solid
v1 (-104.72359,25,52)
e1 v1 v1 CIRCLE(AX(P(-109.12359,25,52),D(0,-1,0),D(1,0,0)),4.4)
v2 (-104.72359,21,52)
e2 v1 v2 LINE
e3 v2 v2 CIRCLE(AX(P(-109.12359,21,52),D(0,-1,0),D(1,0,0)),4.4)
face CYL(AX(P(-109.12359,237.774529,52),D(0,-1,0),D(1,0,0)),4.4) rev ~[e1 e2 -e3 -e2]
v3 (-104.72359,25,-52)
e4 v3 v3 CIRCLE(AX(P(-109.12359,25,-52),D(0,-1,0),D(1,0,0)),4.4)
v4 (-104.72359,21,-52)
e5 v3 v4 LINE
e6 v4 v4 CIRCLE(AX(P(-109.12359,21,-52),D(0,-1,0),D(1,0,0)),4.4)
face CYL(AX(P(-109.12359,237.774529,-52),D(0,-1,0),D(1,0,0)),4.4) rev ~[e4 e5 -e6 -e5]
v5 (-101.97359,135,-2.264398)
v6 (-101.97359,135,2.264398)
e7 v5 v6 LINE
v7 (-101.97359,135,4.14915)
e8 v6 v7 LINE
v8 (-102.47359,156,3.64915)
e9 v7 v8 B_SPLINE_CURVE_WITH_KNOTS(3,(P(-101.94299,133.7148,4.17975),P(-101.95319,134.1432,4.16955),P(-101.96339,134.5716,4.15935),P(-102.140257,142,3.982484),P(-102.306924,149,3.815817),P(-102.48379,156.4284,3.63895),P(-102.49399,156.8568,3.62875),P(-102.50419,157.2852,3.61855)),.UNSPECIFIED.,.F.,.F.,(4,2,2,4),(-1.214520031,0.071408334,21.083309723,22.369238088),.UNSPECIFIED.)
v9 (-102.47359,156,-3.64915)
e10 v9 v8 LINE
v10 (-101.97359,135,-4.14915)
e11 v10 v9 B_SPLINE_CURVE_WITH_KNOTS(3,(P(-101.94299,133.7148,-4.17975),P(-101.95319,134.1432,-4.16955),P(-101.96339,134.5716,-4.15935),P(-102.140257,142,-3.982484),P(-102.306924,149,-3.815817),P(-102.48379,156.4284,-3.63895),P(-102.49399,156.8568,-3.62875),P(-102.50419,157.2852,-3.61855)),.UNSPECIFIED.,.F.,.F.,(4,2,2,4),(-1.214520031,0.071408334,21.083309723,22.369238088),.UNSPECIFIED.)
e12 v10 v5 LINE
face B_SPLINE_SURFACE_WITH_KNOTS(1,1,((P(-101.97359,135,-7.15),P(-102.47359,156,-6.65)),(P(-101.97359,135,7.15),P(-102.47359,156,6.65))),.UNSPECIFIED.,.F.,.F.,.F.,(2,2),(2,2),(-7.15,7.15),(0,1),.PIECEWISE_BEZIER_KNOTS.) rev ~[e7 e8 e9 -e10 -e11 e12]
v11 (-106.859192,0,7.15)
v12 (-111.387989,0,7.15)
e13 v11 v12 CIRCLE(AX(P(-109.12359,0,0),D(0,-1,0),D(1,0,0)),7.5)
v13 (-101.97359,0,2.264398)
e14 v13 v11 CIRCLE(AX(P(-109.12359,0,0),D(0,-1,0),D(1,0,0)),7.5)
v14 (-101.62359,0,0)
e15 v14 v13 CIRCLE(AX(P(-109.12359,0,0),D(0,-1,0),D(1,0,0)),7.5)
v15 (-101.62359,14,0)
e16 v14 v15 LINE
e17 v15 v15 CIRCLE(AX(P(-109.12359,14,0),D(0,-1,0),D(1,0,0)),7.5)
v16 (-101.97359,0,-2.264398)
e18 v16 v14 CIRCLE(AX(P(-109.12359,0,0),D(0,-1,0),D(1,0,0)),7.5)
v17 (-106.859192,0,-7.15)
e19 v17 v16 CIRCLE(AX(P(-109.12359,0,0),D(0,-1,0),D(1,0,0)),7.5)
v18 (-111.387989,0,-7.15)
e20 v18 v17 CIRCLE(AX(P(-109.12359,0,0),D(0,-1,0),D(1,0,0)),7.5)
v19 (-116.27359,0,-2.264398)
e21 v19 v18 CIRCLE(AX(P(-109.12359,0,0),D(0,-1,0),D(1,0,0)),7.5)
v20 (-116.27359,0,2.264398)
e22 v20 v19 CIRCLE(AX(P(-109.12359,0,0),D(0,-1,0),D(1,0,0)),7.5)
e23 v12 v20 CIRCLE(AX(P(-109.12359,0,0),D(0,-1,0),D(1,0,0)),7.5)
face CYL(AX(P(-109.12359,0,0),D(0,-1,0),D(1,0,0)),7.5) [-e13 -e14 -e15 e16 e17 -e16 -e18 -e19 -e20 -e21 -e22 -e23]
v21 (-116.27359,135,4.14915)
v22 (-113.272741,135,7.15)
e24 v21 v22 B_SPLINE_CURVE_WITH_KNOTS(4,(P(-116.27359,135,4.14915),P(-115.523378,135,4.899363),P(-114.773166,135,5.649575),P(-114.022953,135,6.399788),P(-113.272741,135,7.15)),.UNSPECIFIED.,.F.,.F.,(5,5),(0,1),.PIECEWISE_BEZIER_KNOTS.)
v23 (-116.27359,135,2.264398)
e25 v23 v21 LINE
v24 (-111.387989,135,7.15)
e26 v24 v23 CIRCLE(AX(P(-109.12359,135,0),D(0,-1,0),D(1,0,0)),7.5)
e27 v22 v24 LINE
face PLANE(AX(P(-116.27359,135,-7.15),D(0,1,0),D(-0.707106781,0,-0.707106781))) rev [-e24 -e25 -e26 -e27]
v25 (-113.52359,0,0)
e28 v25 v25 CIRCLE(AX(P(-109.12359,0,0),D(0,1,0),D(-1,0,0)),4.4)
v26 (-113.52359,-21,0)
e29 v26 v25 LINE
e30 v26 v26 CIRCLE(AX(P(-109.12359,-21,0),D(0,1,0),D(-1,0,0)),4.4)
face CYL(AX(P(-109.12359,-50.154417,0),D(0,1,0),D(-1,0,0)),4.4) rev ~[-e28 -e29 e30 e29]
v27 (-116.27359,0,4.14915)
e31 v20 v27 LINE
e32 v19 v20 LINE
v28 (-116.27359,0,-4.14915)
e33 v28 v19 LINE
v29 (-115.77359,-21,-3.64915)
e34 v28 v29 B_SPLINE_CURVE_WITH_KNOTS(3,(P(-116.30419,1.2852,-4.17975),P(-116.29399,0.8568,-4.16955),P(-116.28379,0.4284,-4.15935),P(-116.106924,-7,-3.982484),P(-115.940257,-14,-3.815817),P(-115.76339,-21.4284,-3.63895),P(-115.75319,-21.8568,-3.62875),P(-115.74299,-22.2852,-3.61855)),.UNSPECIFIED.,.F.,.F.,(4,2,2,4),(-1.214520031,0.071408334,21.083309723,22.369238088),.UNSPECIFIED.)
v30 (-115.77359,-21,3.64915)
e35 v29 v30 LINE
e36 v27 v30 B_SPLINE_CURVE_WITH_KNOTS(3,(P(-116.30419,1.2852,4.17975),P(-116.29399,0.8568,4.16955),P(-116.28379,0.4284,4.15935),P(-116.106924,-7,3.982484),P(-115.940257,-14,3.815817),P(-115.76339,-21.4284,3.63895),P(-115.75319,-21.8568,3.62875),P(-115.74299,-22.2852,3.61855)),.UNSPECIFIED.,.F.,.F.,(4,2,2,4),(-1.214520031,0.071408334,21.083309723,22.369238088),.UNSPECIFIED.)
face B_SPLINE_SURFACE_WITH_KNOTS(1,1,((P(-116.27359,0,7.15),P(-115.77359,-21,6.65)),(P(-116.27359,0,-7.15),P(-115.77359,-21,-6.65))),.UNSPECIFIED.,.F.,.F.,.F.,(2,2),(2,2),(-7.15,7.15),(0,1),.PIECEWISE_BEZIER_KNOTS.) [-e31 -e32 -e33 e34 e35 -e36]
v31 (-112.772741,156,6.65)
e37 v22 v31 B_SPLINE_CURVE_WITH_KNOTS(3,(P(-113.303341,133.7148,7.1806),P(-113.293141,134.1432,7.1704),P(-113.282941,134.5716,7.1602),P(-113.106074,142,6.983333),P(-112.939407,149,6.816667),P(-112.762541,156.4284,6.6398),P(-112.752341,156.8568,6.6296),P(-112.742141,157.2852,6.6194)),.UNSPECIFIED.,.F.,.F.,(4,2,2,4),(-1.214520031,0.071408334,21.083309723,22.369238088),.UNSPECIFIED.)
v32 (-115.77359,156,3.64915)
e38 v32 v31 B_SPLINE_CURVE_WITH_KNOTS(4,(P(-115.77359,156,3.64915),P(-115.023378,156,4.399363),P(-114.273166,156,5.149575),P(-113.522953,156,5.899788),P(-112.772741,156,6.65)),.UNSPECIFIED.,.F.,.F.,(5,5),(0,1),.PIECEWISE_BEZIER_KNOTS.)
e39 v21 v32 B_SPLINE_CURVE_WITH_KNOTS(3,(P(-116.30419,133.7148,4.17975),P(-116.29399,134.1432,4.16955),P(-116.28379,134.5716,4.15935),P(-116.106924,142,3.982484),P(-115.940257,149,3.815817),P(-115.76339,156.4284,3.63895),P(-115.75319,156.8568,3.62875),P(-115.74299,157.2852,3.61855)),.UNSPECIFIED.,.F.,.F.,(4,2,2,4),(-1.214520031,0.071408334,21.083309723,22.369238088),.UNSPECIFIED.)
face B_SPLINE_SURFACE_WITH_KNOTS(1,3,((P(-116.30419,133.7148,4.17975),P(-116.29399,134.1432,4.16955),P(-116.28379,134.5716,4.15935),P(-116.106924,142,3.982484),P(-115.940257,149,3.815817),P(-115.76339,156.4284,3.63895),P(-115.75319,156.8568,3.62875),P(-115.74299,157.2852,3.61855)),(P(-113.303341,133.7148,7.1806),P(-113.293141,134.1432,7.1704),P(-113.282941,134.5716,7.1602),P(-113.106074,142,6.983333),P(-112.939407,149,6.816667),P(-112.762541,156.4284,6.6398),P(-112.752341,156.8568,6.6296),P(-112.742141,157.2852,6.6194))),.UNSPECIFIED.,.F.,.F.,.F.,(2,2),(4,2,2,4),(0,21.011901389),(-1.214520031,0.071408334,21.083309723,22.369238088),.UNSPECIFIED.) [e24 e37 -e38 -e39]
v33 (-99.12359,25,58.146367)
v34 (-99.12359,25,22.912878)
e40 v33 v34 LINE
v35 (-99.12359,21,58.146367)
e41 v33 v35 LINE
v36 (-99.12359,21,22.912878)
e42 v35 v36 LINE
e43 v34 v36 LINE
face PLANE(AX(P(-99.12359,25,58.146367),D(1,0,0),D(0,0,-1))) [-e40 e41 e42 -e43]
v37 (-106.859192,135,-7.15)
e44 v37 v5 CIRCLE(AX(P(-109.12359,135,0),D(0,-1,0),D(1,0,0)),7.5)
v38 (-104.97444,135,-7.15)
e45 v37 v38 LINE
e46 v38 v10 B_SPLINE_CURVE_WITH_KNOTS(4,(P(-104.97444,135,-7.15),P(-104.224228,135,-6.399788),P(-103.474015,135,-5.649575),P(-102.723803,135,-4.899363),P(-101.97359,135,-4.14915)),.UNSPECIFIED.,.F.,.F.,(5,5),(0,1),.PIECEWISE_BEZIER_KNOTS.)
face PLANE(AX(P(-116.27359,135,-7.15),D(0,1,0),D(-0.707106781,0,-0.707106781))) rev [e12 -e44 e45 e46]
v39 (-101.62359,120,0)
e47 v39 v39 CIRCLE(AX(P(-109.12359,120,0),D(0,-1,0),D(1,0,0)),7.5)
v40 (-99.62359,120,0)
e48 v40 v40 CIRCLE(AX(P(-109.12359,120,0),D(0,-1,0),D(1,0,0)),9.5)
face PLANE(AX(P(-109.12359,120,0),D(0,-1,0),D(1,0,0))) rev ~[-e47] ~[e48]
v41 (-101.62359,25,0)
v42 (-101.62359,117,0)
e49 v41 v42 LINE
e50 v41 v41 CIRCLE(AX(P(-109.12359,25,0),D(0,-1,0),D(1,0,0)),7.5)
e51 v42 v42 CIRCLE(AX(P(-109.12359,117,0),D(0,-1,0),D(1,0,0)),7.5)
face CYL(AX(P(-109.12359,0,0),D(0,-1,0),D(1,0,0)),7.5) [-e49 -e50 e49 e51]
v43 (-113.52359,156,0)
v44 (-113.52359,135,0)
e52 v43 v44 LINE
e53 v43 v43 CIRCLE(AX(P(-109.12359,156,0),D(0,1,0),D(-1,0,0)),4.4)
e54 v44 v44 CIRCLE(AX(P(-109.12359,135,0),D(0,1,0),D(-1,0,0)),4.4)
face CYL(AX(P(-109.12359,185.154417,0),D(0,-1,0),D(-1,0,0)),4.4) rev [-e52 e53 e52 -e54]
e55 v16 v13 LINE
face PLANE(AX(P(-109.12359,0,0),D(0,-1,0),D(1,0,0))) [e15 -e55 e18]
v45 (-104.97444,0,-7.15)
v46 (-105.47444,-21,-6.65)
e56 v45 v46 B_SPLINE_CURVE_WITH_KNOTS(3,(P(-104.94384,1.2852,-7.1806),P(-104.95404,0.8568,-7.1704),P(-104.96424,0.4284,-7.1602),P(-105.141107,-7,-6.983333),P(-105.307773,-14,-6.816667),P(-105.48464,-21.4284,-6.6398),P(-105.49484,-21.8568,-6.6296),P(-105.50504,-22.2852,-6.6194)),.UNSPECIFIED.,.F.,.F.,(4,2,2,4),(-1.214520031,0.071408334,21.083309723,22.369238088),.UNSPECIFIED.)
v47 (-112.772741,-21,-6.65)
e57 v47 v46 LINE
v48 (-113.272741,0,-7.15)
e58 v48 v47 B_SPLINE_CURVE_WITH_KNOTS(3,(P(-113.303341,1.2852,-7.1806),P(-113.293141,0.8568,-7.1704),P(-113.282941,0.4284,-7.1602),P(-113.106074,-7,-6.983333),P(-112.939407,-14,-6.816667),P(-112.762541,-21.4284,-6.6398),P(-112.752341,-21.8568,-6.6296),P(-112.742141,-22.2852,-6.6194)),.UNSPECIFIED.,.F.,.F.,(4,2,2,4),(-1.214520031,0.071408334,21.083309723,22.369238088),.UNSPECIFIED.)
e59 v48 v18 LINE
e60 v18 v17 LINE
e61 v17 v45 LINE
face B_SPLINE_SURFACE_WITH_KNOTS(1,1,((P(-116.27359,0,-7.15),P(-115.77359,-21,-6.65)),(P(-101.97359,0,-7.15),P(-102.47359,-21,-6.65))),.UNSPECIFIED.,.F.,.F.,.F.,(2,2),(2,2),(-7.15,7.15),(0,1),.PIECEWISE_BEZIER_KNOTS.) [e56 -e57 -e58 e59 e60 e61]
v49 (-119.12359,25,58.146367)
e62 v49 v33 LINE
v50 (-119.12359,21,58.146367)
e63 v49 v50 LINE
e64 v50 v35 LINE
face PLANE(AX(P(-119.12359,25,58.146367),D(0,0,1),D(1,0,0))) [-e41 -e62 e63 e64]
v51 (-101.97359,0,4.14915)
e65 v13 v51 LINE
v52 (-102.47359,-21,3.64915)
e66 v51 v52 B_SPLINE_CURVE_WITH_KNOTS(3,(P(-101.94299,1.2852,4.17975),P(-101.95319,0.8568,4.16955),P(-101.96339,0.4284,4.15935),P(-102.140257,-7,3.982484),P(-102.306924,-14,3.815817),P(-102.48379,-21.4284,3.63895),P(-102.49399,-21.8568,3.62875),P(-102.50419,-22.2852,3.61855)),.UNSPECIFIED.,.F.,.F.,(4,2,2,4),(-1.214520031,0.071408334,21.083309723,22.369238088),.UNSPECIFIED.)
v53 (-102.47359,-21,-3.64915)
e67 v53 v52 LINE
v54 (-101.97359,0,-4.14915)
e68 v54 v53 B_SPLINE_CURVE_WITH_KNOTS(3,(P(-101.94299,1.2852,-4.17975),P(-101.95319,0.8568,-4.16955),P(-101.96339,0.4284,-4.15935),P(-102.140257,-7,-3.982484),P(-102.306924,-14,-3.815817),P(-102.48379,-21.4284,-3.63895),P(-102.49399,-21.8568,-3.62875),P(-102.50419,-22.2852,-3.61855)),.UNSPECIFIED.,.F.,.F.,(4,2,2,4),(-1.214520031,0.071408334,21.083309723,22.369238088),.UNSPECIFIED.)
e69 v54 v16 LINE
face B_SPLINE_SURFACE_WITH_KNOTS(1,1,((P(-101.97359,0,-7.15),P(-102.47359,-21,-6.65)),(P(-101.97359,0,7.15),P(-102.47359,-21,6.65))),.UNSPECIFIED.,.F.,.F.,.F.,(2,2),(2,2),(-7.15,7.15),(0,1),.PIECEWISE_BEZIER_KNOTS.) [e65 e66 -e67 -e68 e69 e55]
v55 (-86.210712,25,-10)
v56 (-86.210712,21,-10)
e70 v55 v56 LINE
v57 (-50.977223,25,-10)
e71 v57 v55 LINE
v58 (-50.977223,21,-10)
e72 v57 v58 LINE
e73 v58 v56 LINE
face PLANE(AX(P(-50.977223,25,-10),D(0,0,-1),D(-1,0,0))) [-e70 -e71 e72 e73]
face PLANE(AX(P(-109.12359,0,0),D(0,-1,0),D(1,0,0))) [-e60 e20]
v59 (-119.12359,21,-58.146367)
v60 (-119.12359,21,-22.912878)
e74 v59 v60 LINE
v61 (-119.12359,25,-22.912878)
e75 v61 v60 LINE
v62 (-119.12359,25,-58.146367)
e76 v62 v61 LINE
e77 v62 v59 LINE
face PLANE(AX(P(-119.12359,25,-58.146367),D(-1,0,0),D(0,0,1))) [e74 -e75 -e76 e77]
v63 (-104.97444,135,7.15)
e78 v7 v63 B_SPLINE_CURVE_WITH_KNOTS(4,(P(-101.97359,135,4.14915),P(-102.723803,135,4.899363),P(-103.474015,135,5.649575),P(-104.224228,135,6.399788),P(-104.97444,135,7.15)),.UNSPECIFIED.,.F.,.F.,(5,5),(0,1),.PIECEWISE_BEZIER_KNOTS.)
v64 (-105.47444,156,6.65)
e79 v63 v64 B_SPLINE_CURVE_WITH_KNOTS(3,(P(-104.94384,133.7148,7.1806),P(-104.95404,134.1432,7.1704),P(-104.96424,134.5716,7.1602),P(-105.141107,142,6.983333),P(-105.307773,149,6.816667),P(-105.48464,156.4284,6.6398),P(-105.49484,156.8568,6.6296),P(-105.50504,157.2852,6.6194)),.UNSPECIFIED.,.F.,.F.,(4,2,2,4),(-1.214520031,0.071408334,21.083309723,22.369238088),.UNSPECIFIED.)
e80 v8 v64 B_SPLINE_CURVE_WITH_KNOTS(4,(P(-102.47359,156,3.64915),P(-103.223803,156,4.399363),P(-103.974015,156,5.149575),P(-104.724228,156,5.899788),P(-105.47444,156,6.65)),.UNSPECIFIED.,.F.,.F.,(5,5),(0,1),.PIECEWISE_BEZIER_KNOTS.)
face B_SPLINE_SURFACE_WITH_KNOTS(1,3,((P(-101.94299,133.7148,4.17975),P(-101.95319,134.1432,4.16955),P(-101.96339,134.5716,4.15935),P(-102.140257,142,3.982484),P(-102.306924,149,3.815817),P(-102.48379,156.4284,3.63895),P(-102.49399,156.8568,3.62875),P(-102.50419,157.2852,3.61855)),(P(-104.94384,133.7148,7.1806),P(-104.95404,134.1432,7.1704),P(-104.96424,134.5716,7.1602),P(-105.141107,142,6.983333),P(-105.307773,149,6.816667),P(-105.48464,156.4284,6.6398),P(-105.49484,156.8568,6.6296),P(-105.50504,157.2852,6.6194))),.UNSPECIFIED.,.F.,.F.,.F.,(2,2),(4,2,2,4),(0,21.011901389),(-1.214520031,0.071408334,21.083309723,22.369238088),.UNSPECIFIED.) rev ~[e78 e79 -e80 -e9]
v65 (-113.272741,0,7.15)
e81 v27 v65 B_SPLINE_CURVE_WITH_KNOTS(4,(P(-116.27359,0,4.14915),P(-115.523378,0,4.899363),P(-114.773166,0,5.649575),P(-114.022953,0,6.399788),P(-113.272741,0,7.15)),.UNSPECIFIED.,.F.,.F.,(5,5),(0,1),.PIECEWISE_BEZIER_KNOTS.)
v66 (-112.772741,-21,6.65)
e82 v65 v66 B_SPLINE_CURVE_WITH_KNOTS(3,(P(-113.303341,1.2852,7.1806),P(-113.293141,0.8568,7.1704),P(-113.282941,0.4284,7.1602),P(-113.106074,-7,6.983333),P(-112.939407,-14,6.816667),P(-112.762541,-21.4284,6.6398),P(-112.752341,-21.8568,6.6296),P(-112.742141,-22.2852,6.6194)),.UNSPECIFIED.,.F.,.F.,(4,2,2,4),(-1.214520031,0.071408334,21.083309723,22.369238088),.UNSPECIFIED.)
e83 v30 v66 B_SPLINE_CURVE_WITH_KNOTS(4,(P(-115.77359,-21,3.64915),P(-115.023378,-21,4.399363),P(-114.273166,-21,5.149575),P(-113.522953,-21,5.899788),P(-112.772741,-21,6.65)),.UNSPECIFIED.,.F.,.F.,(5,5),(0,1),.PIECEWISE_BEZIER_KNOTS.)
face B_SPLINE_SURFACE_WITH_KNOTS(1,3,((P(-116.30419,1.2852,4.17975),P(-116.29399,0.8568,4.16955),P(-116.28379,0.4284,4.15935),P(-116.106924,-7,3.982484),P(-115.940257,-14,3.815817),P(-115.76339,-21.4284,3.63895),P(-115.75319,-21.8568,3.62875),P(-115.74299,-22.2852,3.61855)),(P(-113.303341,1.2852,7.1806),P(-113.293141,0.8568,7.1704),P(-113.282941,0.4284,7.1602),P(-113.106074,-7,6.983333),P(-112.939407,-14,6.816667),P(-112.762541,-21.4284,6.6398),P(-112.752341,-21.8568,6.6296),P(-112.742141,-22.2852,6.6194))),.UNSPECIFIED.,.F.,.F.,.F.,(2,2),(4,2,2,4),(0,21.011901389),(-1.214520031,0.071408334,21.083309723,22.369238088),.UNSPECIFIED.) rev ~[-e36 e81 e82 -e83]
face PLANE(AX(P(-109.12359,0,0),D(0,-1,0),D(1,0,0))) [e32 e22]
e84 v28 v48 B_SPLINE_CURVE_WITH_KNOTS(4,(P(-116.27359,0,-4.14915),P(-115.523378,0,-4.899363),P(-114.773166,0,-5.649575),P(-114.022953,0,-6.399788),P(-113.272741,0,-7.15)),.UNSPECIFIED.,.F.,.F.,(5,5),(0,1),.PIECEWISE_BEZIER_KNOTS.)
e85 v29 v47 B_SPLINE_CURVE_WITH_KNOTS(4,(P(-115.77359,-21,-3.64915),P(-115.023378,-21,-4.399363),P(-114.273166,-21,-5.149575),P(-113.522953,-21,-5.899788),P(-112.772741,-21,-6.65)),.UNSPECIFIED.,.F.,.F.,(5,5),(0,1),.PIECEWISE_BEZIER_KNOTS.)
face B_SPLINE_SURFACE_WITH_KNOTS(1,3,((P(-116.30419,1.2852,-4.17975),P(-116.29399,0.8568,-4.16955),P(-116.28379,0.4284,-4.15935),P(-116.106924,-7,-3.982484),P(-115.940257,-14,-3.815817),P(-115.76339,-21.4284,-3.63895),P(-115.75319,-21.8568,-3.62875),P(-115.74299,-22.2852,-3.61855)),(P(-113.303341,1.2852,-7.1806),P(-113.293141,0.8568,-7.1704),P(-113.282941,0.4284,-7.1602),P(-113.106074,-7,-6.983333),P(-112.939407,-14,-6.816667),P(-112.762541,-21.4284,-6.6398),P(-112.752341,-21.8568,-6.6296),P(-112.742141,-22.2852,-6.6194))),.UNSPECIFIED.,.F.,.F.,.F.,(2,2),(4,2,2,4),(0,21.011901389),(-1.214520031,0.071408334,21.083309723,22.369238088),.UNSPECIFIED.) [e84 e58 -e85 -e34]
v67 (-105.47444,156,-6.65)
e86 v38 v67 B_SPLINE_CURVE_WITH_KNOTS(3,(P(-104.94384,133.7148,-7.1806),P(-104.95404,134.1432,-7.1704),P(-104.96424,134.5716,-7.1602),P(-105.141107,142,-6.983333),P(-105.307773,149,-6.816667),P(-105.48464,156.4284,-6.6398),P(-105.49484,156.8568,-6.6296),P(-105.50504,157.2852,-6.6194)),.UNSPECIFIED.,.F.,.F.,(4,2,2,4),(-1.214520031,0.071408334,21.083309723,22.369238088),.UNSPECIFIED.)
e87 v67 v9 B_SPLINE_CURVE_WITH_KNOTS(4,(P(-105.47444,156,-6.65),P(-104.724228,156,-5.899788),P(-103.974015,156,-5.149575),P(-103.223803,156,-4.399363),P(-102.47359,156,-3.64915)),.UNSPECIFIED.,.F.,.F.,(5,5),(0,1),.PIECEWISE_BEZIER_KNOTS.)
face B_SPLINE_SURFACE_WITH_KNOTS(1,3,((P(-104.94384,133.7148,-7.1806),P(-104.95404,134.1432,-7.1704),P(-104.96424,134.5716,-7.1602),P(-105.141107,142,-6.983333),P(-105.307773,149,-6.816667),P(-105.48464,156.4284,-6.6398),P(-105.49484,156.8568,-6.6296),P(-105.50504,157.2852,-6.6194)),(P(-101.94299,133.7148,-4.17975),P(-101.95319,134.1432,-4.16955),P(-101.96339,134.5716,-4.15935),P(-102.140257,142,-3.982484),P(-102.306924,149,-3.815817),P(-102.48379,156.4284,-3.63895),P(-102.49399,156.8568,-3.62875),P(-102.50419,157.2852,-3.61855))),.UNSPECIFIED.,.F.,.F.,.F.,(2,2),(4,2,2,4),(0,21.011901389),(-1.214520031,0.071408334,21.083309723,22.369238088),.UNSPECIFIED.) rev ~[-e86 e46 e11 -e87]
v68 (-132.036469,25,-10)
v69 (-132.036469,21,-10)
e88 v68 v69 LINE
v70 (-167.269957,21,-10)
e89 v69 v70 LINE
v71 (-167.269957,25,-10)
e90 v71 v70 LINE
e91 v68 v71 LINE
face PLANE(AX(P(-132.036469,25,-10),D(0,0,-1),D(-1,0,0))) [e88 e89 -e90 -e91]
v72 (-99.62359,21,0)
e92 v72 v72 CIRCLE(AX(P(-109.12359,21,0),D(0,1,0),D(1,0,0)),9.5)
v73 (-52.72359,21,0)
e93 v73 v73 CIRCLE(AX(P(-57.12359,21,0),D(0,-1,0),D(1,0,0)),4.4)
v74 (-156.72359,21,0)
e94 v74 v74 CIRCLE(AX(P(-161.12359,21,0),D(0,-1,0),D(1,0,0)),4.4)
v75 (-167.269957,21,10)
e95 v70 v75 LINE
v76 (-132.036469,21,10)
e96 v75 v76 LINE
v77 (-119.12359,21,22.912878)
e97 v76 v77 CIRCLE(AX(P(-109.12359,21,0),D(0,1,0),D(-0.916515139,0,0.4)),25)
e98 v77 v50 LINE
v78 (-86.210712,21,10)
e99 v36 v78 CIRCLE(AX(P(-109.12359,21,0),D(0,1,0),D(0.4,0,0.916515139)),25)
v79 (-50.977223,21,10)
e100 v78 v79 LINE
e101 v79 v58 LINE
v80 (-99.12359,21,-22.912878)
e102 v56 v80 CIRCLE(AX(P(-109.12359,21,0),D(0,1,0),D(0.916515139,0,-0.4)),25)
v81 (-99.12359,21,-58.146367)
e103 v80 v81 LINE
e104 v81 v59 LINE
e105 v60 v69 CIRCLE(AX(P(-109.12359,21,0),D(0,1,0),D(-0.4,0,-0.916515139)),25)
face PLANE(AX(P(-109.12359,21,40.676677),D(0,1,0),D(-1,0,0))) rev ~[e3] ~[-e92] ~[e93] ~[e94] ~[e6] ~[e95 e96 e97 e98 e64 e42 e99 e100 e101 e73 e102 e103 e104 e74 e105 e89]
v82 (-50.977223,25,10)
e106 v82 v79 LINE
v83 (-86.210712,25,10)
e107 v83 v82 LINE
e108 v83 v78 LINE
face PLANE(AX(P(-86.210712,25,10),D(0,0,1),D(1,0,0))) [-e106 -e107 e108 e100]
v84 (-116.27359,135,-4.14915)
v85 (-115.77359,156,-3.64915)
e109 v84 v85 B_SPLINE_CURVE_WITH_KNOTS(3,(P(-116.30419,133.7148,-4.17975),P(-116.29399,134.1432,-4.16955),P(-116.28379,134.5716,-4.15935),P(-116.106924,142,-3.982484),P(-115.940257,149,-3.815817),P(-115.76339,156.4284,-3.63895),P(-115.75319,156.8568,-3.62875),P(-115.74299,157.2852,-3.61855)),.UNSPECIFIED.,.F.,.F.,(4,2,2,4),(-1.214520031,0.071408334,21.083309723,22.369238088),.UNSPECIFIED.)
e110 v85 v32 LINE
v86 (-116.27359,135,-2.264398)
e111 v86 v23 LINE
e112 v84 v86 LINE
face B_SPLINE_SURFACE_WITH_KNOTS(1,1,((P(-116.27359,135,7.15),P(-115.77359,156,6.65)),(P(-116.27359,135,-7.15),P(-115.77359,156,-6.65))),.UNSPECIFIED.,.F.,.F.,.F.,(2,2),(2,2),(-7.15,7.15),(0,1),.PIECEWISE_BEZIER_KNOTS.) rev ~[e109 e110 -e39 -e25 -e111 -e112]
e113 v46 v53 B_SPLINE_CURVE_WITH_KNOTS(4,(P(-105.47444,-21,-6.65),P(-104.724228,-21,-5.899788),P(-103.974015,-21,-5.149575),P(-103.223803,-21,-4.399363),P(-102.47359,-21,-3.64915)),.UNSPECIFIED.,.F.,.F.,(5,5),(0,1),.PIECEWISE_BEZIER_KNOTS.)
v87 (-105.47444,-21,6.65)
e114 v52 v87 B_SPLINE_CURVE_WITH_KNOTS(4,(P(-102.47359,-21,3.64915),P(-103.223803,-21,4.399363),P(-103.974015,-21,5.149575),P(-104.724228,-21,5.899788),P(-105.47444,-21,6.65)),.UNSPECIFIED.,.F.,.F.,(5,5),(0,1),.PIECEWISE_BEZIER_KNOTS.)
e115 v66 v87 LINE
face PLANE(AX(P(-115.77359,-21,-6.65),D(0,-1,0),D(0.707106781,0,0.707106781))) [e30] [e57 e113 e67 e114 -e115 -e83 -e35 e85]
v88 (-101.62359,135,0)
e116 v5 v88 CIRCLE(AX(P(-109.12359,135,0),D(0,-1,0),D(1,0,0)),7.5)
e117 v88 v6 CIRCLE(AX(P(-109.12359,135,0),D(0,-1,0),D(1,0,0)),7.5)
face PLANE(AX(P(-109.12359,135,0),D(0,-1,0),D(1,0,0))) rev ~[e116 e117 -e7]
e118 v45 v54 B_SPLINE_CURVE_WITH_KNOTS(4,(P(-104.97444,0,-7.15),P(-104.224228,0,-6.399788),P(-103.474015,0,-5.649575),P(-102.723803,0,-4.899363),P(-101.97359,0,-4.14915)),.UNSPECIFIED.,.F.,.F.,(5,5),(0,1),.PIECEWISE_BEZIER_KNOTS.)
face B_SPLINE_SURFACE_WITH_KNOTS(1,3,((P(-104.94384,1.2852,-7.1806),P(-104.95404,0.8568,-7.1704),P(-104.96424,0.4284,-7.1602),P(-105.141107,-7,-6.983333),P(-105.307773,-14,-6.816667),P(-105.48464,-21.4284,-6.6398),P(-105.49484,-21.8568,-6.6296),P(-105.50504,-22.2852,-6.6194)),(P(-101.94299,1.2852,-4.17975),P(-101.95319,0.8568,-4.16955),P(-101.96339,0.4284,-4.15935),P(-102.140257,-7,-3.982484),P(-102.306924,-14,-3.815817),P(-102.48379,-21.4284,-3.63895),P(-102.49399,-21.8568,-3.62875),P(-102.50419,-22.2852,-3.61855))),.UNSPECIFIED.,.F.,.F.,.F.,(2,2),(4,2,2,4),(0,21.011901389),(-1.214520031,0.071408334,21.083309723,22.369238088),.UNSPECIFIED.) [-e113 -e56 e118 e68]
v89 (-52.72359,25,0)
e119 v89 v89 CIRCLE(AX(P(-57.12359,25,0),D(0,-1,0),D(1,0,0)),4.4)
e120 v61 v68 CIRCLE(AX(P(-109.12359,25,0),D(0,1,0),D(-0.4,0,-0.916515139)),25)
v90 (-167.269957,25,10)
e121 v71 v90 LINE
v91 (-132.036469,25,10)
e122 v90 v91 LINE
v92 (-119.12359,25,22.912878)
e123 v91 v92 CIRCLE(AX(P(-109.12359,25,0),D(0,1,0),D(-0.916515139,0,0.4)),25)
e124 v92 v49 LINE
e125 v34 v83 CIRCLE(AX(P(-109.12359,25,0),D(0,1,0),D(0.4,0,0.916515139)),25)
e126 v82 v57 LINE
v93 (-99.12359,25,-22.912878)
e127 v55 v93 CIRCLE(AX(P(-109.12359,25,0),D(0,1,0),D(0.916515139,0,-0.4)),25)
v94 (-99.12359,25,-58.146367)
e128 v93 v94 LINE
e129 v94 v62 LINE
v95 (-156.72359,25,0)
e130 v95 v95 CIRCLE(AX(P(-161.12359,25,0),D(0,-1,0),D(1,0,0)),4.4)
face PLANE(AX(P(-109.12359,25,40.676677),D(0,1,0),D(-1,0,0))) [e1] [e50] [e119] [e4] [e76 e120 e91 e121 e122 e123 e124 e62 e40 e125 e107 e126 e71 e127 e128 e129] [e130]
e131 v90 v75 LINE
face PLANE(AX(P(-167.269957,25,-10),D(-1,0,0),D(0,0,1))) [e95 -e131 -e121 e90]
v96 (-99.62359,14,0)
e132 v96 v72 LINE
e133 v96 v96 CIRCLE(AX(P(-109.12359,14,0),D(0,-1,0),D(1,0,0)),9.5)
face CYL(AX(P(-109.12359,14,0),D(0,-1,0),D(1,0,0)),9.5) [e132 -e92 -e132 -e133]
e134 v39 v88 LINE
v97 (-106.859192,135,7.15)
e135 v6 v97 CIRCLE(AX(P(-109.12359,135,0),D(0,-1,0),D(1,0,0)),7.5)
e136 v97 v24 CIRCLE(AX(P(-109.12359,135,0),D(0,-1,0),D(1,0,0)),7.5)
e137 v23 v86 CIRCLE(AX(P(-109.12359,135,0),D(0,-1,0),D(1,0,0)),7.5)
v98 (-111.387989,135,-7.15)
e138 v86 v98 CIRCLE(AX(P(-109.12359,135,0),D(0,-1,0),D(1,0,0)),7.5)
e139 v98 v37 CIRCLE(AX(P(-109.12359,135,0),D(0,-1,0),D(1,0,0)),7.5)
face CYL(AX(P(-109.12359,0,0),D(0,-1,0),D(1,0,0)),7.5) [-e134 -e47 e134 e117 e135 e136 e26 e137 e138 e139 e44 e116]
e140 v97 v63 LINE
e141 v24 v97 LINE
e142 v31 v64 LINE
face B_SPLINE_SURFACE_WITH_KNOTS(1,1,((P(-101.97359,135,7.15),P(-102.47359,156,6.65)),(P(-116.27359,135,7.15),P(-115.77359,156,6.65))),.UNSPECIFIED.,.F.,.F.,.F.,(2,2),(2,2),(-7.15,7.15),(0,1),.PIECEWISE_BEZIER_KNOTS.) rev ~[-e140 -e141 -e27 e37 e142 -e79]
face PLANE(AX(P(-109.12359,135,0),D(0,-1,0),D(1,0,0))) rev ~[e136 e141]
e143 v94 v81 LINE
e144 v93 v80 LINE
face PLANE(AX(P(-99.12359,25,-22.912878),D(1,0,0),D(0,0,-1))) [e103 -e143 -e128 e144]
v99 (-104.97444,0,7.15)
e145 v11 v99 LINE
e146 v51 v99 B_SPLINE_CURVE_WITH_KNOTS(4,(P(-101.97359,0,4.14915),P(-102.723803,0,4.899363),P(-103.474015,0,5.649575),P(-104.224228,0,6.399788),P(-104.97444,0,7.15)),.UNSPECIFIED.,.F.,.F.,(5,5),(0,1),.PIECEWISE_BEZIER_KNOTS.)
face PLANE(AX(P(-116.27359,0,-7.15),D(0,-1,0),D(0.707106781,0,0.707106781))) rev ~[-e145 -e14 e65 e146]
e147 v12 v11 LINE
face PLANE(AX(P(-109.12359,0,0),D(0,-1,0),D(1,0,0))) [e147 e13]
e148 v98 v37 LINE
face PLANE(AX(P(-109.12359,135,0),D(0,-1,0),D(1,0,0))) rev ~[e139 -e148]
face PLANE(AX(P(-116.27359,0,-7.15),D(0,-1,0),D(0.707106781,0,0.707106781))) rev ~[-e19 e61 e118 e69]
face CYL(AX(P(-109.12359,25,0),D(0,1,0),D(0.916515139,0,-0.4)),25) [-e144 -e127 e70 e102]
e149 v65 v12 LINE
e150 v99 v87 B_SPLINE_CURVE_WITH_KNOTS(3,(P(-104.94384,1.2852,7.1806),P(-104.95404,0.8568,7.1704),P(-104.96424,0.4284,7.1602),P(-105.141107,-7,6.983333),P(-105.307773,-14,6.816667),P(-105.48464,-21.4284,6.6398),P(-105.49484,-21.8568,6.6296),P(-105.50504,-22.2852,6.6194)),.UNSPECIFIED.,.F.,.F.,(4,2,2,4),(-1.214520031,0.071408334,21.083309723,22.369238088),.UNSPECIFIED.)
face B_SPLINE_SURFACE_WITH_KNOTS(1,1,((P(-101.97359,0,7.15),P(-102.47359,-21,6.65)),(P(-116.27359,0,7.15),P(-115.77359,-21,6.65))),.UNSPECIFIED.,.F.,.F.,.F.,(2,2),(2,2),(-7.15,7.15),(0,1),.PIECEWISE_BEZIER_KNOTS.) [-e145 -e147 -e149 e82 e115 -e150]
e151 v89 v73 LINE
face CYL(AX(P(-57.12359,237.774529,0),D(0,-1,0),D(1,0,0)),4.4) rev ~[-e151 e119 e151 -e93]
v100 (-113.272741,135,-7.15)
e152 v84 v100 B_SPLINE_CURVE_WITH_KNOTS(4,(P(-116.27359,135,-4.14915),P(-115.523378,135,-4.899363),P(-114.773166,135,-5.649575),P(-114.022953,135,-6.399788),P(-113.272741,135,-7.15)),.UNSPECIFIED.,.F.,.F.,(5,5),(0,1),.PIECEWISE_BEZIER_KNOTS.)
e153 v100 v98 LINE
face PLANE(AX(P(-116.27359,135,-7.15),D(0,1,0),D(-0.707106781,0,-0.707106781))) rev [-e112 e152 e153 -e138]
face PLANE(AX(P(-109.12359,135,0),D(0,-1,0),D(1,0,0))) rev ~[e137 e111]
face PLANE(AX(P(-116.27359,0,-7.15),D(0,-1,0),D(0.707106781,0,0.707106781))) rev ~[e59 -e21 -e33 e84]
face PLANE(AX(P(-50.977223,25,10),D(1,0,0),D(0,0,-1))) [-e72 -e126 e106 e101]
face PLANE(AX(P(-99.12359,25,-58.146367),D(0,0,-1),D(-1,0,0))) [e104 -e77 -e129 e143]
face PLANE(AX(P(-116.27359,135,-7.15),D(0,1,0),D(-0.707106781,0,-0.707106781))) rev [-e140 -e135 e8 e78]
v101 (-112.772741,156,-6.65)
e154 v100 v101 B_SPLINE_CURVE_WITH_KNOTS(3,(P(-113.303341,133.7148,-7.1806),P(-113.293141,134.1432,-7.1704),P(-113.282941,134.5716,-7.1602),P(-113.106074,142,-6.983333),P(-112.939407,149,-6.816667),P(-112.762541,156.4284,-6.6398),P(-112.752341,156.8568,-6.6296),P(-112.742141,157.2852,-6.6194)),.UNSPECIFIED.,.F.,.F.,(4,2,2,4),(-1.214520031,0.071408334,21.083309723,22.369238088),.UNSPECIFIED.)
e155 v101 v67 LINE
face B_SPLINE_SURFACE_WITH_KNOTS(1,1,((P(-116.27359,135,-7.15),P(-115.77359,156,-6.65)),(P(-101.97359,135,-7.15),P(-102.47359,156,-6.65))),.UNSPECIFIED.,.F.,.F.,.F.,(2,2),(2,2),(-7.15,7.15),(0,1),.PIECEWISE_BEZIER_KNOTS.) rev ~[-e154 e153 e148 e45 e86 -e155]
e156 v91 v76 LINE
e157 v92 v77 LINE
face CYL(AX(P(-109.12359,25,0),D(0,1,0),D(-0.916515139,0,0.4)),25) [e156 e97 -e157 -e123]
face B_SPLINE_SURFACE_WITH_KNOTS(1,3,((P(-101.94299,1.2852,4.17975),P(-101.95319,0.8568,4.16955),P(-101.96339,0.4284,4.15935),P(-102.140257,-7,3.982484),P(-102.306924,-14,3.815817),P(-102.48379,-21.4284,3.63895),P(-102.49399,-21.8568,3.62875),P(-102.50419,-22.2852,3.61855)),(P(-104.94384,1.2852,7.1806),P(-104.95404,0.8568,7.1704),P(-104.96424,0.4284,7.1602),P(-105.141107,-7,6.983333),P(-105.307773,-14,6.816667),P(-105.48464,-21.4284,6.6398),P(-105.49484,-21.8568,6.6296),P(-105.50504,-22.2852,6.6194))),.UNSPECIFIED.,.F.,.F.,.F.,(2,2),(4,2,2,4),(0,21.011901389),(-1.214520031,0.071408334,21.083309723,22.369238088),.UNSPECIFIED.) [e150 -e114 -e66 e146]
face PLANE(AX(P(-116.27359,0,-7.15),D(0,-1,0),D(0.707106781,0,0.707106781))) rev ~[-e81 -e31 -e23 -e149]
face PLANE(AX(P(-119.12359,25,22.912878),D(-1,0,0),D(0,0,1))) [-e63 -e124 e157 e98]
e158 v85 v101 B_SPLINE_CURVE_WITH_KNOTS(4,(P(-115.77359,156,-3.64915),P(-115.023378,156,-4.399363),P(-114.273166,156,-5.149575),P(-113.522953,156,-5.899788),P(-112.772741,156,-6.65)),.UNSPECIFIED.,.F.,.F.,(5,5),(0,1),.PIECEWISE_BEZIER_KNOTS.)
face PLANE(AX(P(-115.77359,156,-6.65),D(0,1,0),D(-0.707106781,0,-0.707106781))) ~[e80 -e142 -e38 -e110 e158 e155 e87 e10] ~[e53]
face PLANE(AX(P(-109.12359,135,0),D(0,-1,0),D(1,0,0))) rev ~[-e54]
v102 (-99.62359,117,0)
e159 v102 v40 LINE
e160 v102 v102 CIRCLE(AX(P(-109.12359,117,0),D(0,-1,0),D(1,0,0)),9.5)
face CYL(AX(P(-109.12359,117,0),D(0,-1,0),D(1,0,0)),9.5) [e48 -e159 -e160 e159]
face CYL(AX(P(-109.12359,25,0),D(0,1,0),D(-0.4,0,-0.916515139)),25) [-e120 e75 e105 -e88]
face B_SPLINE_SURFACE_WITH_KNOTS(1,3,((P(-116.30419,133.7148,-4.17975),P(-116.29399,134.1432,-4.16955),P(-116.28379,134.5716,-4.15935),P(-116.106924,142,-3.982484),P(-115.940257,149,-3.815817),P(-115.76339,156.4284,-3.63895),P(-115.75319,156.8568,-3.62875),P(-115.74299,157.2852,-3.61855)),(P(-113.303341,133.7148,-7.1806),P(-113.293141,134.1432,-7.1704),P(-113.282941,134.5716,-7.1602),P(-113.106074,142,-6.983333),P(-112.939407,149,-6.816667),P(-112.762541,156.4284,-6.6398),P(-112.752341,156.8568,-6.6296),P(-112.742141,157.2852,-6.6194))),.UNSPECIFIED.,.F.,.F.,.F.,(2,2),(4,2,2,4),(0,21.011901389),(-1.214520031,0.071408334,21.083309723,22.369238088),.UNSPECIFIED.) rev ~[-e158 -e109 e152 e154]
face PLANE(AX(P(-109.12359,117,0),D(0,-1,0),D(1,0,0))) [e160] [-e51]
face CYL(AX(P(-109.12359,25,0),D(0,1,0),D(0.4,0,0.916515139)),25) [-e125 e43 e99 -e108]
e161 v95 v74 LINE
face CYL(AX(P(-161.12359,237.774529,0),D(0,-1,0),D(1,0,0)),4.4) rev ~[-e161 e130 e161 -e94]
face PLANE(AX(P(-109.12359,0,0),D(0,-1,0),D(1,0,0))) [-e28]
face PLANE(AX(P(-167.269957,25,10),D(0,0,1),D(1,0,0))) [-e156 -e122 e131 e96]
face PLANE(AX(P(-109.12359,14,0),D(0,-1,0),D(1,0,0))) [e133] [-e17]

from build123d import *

# Parameters (mm, degrees)
F3_W      = 14.3
F3_H      = 14.3
F4_W      = 13.3
F4_H      = 13.3
F8_SIZE   = 3
F9_R      = 7.5
F10_DEPTH = 135
F11_START = -14
F9_R_2    = 9.5
F11_DEPTH = 11
F12_START = -117
F12_DEPTH = 3
F13_R     = 9.5
F14_DEPTH = 4
F15_D     = 8.8
F16_D     = 8.8


with BuildPart() as f7:
    # F3 (on Front) → F7 section 0
    with BuildSketch(Plane.XZ):
        with Locations((-109.1235904219, 0)):
            Rectangle(F3_W, F3_H)
    # F4 (on offset) → F7 section 1
    with BuildSketch(Plane.XZ.offset(21)):
        with Locations((-109.1235904219, 0)):
            Rectangle(F4_W, F4_H)
    loft()

    # F8
    f8_edges = [f7.edges().sort_by_distance(p)[0] for p in [
        (-116.02359, -10.5, 6.9),
        (-116.02359, -10.5, -6.9),
        (-102.22359, -10.5, 6.9),
        (-102.22359, -10.5, -6.9),
    ]]
    chamfer(f8_edges, length=F8_SIZE)

    # F16 (through all)
    with Locations(Plane.XZ.offset(21)):
        with Locations((-109.1235904219, 0)):
            Hole(F16_D / 2)



with BuildPart() as f10:
    # F9 (on Front) → F10 (new body, through all)
    with BuildSketch(Plane.XZ):
        with Locations((-109.1235904219, 0)):
            Circle(F9_R)
    extrude(amount=-F10_DEPTH)

    # F9 (on Front) → F11 (join)
    with BuildSketch(Plane.XZ.offset(F11_START)):
        with Locations((-109.1235904219, 0)):
            Circle(F9_R_2)
        with Locations((-109.1235904219, 0)):
            Circle(F9_R, mode=Mode.SUBTRACT)
    extrude(amount=-F11_DEPTH)

    # F9 (on Front) → F12 (join)
    with BuildSketch(Plane.XZ.offset(F12_START)):
        with Locations((-109.1235904219, 0)):
            Circle(F9_R_2)
        with Locations((-109.1235904219, 0)):
            Circle(F9_R, mode=Mode.SUBTRACT)
    extrude(amount=-F12_DEPTH)

    # F13 (on face) → F14 (join)
    with BuildSketch(Plane(origin=(0, 25, 0), x_dir=(-1, 0, 0), z_dir=(0, 1, 0))):
        with BuildLine():
            Line((119.1235904219, 22.9128784748), (119.1235904219, 58.1463670404))
            Line((119.1235904219, 58.1463670404), (99.1235904219, 58.1463670404))
            Line((99.1235904219, 58.1463670404), (99.1235904219, 22.9128784748))
            ThreePointArc((99.1235904219, 22.9128784748), (109.1235904219, 25), (119.1235904219, 22.9128784748))
        make_face()
        with BuildLine():
            Line((99.1235904219, -58.1463670404), (119.1235904219, -58.1463670404))
            Line((119.1235904219, -58.1463670404), (119.1235904219, -22.9128784748))
            ThreePointArc((119.1235904219, -22.9128784748), (109.1235904219, -25), (99.1235904219, -22.9128784748))
            Line((99.1235904219, -22.9128784748), (99.1235904219, -58.1463670404))
        make_face()
        with BuildLine():
            Line((167.2699574623, -10), (167.2699574623, 10))
            Line((167.2699574623, 10), (132.0364688967, 10))
            ThreePointArc((132.0364688967, 10), (133.5962482452, 5.1077410922), (134.1235904219, 0))
            ThreePointArc((134.1235904219, 0), (133.5962482452, -5.1077410922), (132.0364688967, -10))
            Line((132.0364688967, -10), (167.2699574623, -10))
        make_face()
        with BuildLine():
            ThreePointArc((134.1235904219, 0), (133.5962482452, 5.1077410922), (132.0364688967, 10))
            ThreePointArc((132.0364688967, 10), (126.8012599516, 17.6776695297), (119.1235904219, 22.9128784748))
            Line((119.1235904219, 22.9128784748), (99.1235904219, 22.9128784748))
            ThreePointArc((99.1235904219, 22.9128784748), (91.4459208923, 17.6776695297), (86.2107119471, 10))
            ThreePointArc((86.2107119471, 10), (84.1235904219, 0), (86.2107119471, -10))
            ThreePointArc((86.2107119471, -10), (91.4459208923, -17.6776695297), (99.1235904219, -22.9128784748))
            ThreePointArc((99.1235904219, -22.9128784748), (109.1235904219, -25), (119.1235904219, -22.9128784748))
            ThreePointArc((119.1235904219, -22.9128784748), (126.8012599516, -17.6776695297), (132.0364688967, -10))
            ThreePointArc((132.0364688967, -10), (133.5962482452, -5.1077410922), (134.1235904219, 0))
        make_face()
        with Locations((109.1235904219, 0)):
            Circle(F13_R, mode=Mode.SUBTRACT)
        with BuildLine():
            Line((86.2107119471, 10), (50.9772233815, 10))
            Line((50.9772233815, 10), (50.9772233815, -10))
            Line((50.9772233815, -10), (86.2107119471, -10))
            ThreePointArc((86.2107119471, -10), (84.1235904219, 0), (86.2107119471, 10))
        make_face()
        with BuildLine():
            Line((99.1235904219, 22.9128784748), (119.1235904219, 22.9128784748))
            ThreePointArc((119.1235904219, 22.9128784748), (109.1235904219, 25), (99.1235904219, 22.9128784748))
        make_face()
    extrude(amount=-F14_DEPTH)

    # F15 (through all)
    with Locations(Plane(origin=(0, 25, 0), x_dir=(-1, 0, 0), z_dir=(0, 1, 0))):
        with Locations((109.1235904219, 52), (57.1235904219, 0), (161.1235904219, 0), (109.1235904219, -52)):
            Hole(F15_D / 2)


with BuildPart() as f7_1:
    add(f7.part)

    add(f10.part)  # F17 merges F10
    # F17: F7 across plane
    add(f7.part.mirror(Plane.XZ.offset(-67.5)))


solid = f7_1.part
